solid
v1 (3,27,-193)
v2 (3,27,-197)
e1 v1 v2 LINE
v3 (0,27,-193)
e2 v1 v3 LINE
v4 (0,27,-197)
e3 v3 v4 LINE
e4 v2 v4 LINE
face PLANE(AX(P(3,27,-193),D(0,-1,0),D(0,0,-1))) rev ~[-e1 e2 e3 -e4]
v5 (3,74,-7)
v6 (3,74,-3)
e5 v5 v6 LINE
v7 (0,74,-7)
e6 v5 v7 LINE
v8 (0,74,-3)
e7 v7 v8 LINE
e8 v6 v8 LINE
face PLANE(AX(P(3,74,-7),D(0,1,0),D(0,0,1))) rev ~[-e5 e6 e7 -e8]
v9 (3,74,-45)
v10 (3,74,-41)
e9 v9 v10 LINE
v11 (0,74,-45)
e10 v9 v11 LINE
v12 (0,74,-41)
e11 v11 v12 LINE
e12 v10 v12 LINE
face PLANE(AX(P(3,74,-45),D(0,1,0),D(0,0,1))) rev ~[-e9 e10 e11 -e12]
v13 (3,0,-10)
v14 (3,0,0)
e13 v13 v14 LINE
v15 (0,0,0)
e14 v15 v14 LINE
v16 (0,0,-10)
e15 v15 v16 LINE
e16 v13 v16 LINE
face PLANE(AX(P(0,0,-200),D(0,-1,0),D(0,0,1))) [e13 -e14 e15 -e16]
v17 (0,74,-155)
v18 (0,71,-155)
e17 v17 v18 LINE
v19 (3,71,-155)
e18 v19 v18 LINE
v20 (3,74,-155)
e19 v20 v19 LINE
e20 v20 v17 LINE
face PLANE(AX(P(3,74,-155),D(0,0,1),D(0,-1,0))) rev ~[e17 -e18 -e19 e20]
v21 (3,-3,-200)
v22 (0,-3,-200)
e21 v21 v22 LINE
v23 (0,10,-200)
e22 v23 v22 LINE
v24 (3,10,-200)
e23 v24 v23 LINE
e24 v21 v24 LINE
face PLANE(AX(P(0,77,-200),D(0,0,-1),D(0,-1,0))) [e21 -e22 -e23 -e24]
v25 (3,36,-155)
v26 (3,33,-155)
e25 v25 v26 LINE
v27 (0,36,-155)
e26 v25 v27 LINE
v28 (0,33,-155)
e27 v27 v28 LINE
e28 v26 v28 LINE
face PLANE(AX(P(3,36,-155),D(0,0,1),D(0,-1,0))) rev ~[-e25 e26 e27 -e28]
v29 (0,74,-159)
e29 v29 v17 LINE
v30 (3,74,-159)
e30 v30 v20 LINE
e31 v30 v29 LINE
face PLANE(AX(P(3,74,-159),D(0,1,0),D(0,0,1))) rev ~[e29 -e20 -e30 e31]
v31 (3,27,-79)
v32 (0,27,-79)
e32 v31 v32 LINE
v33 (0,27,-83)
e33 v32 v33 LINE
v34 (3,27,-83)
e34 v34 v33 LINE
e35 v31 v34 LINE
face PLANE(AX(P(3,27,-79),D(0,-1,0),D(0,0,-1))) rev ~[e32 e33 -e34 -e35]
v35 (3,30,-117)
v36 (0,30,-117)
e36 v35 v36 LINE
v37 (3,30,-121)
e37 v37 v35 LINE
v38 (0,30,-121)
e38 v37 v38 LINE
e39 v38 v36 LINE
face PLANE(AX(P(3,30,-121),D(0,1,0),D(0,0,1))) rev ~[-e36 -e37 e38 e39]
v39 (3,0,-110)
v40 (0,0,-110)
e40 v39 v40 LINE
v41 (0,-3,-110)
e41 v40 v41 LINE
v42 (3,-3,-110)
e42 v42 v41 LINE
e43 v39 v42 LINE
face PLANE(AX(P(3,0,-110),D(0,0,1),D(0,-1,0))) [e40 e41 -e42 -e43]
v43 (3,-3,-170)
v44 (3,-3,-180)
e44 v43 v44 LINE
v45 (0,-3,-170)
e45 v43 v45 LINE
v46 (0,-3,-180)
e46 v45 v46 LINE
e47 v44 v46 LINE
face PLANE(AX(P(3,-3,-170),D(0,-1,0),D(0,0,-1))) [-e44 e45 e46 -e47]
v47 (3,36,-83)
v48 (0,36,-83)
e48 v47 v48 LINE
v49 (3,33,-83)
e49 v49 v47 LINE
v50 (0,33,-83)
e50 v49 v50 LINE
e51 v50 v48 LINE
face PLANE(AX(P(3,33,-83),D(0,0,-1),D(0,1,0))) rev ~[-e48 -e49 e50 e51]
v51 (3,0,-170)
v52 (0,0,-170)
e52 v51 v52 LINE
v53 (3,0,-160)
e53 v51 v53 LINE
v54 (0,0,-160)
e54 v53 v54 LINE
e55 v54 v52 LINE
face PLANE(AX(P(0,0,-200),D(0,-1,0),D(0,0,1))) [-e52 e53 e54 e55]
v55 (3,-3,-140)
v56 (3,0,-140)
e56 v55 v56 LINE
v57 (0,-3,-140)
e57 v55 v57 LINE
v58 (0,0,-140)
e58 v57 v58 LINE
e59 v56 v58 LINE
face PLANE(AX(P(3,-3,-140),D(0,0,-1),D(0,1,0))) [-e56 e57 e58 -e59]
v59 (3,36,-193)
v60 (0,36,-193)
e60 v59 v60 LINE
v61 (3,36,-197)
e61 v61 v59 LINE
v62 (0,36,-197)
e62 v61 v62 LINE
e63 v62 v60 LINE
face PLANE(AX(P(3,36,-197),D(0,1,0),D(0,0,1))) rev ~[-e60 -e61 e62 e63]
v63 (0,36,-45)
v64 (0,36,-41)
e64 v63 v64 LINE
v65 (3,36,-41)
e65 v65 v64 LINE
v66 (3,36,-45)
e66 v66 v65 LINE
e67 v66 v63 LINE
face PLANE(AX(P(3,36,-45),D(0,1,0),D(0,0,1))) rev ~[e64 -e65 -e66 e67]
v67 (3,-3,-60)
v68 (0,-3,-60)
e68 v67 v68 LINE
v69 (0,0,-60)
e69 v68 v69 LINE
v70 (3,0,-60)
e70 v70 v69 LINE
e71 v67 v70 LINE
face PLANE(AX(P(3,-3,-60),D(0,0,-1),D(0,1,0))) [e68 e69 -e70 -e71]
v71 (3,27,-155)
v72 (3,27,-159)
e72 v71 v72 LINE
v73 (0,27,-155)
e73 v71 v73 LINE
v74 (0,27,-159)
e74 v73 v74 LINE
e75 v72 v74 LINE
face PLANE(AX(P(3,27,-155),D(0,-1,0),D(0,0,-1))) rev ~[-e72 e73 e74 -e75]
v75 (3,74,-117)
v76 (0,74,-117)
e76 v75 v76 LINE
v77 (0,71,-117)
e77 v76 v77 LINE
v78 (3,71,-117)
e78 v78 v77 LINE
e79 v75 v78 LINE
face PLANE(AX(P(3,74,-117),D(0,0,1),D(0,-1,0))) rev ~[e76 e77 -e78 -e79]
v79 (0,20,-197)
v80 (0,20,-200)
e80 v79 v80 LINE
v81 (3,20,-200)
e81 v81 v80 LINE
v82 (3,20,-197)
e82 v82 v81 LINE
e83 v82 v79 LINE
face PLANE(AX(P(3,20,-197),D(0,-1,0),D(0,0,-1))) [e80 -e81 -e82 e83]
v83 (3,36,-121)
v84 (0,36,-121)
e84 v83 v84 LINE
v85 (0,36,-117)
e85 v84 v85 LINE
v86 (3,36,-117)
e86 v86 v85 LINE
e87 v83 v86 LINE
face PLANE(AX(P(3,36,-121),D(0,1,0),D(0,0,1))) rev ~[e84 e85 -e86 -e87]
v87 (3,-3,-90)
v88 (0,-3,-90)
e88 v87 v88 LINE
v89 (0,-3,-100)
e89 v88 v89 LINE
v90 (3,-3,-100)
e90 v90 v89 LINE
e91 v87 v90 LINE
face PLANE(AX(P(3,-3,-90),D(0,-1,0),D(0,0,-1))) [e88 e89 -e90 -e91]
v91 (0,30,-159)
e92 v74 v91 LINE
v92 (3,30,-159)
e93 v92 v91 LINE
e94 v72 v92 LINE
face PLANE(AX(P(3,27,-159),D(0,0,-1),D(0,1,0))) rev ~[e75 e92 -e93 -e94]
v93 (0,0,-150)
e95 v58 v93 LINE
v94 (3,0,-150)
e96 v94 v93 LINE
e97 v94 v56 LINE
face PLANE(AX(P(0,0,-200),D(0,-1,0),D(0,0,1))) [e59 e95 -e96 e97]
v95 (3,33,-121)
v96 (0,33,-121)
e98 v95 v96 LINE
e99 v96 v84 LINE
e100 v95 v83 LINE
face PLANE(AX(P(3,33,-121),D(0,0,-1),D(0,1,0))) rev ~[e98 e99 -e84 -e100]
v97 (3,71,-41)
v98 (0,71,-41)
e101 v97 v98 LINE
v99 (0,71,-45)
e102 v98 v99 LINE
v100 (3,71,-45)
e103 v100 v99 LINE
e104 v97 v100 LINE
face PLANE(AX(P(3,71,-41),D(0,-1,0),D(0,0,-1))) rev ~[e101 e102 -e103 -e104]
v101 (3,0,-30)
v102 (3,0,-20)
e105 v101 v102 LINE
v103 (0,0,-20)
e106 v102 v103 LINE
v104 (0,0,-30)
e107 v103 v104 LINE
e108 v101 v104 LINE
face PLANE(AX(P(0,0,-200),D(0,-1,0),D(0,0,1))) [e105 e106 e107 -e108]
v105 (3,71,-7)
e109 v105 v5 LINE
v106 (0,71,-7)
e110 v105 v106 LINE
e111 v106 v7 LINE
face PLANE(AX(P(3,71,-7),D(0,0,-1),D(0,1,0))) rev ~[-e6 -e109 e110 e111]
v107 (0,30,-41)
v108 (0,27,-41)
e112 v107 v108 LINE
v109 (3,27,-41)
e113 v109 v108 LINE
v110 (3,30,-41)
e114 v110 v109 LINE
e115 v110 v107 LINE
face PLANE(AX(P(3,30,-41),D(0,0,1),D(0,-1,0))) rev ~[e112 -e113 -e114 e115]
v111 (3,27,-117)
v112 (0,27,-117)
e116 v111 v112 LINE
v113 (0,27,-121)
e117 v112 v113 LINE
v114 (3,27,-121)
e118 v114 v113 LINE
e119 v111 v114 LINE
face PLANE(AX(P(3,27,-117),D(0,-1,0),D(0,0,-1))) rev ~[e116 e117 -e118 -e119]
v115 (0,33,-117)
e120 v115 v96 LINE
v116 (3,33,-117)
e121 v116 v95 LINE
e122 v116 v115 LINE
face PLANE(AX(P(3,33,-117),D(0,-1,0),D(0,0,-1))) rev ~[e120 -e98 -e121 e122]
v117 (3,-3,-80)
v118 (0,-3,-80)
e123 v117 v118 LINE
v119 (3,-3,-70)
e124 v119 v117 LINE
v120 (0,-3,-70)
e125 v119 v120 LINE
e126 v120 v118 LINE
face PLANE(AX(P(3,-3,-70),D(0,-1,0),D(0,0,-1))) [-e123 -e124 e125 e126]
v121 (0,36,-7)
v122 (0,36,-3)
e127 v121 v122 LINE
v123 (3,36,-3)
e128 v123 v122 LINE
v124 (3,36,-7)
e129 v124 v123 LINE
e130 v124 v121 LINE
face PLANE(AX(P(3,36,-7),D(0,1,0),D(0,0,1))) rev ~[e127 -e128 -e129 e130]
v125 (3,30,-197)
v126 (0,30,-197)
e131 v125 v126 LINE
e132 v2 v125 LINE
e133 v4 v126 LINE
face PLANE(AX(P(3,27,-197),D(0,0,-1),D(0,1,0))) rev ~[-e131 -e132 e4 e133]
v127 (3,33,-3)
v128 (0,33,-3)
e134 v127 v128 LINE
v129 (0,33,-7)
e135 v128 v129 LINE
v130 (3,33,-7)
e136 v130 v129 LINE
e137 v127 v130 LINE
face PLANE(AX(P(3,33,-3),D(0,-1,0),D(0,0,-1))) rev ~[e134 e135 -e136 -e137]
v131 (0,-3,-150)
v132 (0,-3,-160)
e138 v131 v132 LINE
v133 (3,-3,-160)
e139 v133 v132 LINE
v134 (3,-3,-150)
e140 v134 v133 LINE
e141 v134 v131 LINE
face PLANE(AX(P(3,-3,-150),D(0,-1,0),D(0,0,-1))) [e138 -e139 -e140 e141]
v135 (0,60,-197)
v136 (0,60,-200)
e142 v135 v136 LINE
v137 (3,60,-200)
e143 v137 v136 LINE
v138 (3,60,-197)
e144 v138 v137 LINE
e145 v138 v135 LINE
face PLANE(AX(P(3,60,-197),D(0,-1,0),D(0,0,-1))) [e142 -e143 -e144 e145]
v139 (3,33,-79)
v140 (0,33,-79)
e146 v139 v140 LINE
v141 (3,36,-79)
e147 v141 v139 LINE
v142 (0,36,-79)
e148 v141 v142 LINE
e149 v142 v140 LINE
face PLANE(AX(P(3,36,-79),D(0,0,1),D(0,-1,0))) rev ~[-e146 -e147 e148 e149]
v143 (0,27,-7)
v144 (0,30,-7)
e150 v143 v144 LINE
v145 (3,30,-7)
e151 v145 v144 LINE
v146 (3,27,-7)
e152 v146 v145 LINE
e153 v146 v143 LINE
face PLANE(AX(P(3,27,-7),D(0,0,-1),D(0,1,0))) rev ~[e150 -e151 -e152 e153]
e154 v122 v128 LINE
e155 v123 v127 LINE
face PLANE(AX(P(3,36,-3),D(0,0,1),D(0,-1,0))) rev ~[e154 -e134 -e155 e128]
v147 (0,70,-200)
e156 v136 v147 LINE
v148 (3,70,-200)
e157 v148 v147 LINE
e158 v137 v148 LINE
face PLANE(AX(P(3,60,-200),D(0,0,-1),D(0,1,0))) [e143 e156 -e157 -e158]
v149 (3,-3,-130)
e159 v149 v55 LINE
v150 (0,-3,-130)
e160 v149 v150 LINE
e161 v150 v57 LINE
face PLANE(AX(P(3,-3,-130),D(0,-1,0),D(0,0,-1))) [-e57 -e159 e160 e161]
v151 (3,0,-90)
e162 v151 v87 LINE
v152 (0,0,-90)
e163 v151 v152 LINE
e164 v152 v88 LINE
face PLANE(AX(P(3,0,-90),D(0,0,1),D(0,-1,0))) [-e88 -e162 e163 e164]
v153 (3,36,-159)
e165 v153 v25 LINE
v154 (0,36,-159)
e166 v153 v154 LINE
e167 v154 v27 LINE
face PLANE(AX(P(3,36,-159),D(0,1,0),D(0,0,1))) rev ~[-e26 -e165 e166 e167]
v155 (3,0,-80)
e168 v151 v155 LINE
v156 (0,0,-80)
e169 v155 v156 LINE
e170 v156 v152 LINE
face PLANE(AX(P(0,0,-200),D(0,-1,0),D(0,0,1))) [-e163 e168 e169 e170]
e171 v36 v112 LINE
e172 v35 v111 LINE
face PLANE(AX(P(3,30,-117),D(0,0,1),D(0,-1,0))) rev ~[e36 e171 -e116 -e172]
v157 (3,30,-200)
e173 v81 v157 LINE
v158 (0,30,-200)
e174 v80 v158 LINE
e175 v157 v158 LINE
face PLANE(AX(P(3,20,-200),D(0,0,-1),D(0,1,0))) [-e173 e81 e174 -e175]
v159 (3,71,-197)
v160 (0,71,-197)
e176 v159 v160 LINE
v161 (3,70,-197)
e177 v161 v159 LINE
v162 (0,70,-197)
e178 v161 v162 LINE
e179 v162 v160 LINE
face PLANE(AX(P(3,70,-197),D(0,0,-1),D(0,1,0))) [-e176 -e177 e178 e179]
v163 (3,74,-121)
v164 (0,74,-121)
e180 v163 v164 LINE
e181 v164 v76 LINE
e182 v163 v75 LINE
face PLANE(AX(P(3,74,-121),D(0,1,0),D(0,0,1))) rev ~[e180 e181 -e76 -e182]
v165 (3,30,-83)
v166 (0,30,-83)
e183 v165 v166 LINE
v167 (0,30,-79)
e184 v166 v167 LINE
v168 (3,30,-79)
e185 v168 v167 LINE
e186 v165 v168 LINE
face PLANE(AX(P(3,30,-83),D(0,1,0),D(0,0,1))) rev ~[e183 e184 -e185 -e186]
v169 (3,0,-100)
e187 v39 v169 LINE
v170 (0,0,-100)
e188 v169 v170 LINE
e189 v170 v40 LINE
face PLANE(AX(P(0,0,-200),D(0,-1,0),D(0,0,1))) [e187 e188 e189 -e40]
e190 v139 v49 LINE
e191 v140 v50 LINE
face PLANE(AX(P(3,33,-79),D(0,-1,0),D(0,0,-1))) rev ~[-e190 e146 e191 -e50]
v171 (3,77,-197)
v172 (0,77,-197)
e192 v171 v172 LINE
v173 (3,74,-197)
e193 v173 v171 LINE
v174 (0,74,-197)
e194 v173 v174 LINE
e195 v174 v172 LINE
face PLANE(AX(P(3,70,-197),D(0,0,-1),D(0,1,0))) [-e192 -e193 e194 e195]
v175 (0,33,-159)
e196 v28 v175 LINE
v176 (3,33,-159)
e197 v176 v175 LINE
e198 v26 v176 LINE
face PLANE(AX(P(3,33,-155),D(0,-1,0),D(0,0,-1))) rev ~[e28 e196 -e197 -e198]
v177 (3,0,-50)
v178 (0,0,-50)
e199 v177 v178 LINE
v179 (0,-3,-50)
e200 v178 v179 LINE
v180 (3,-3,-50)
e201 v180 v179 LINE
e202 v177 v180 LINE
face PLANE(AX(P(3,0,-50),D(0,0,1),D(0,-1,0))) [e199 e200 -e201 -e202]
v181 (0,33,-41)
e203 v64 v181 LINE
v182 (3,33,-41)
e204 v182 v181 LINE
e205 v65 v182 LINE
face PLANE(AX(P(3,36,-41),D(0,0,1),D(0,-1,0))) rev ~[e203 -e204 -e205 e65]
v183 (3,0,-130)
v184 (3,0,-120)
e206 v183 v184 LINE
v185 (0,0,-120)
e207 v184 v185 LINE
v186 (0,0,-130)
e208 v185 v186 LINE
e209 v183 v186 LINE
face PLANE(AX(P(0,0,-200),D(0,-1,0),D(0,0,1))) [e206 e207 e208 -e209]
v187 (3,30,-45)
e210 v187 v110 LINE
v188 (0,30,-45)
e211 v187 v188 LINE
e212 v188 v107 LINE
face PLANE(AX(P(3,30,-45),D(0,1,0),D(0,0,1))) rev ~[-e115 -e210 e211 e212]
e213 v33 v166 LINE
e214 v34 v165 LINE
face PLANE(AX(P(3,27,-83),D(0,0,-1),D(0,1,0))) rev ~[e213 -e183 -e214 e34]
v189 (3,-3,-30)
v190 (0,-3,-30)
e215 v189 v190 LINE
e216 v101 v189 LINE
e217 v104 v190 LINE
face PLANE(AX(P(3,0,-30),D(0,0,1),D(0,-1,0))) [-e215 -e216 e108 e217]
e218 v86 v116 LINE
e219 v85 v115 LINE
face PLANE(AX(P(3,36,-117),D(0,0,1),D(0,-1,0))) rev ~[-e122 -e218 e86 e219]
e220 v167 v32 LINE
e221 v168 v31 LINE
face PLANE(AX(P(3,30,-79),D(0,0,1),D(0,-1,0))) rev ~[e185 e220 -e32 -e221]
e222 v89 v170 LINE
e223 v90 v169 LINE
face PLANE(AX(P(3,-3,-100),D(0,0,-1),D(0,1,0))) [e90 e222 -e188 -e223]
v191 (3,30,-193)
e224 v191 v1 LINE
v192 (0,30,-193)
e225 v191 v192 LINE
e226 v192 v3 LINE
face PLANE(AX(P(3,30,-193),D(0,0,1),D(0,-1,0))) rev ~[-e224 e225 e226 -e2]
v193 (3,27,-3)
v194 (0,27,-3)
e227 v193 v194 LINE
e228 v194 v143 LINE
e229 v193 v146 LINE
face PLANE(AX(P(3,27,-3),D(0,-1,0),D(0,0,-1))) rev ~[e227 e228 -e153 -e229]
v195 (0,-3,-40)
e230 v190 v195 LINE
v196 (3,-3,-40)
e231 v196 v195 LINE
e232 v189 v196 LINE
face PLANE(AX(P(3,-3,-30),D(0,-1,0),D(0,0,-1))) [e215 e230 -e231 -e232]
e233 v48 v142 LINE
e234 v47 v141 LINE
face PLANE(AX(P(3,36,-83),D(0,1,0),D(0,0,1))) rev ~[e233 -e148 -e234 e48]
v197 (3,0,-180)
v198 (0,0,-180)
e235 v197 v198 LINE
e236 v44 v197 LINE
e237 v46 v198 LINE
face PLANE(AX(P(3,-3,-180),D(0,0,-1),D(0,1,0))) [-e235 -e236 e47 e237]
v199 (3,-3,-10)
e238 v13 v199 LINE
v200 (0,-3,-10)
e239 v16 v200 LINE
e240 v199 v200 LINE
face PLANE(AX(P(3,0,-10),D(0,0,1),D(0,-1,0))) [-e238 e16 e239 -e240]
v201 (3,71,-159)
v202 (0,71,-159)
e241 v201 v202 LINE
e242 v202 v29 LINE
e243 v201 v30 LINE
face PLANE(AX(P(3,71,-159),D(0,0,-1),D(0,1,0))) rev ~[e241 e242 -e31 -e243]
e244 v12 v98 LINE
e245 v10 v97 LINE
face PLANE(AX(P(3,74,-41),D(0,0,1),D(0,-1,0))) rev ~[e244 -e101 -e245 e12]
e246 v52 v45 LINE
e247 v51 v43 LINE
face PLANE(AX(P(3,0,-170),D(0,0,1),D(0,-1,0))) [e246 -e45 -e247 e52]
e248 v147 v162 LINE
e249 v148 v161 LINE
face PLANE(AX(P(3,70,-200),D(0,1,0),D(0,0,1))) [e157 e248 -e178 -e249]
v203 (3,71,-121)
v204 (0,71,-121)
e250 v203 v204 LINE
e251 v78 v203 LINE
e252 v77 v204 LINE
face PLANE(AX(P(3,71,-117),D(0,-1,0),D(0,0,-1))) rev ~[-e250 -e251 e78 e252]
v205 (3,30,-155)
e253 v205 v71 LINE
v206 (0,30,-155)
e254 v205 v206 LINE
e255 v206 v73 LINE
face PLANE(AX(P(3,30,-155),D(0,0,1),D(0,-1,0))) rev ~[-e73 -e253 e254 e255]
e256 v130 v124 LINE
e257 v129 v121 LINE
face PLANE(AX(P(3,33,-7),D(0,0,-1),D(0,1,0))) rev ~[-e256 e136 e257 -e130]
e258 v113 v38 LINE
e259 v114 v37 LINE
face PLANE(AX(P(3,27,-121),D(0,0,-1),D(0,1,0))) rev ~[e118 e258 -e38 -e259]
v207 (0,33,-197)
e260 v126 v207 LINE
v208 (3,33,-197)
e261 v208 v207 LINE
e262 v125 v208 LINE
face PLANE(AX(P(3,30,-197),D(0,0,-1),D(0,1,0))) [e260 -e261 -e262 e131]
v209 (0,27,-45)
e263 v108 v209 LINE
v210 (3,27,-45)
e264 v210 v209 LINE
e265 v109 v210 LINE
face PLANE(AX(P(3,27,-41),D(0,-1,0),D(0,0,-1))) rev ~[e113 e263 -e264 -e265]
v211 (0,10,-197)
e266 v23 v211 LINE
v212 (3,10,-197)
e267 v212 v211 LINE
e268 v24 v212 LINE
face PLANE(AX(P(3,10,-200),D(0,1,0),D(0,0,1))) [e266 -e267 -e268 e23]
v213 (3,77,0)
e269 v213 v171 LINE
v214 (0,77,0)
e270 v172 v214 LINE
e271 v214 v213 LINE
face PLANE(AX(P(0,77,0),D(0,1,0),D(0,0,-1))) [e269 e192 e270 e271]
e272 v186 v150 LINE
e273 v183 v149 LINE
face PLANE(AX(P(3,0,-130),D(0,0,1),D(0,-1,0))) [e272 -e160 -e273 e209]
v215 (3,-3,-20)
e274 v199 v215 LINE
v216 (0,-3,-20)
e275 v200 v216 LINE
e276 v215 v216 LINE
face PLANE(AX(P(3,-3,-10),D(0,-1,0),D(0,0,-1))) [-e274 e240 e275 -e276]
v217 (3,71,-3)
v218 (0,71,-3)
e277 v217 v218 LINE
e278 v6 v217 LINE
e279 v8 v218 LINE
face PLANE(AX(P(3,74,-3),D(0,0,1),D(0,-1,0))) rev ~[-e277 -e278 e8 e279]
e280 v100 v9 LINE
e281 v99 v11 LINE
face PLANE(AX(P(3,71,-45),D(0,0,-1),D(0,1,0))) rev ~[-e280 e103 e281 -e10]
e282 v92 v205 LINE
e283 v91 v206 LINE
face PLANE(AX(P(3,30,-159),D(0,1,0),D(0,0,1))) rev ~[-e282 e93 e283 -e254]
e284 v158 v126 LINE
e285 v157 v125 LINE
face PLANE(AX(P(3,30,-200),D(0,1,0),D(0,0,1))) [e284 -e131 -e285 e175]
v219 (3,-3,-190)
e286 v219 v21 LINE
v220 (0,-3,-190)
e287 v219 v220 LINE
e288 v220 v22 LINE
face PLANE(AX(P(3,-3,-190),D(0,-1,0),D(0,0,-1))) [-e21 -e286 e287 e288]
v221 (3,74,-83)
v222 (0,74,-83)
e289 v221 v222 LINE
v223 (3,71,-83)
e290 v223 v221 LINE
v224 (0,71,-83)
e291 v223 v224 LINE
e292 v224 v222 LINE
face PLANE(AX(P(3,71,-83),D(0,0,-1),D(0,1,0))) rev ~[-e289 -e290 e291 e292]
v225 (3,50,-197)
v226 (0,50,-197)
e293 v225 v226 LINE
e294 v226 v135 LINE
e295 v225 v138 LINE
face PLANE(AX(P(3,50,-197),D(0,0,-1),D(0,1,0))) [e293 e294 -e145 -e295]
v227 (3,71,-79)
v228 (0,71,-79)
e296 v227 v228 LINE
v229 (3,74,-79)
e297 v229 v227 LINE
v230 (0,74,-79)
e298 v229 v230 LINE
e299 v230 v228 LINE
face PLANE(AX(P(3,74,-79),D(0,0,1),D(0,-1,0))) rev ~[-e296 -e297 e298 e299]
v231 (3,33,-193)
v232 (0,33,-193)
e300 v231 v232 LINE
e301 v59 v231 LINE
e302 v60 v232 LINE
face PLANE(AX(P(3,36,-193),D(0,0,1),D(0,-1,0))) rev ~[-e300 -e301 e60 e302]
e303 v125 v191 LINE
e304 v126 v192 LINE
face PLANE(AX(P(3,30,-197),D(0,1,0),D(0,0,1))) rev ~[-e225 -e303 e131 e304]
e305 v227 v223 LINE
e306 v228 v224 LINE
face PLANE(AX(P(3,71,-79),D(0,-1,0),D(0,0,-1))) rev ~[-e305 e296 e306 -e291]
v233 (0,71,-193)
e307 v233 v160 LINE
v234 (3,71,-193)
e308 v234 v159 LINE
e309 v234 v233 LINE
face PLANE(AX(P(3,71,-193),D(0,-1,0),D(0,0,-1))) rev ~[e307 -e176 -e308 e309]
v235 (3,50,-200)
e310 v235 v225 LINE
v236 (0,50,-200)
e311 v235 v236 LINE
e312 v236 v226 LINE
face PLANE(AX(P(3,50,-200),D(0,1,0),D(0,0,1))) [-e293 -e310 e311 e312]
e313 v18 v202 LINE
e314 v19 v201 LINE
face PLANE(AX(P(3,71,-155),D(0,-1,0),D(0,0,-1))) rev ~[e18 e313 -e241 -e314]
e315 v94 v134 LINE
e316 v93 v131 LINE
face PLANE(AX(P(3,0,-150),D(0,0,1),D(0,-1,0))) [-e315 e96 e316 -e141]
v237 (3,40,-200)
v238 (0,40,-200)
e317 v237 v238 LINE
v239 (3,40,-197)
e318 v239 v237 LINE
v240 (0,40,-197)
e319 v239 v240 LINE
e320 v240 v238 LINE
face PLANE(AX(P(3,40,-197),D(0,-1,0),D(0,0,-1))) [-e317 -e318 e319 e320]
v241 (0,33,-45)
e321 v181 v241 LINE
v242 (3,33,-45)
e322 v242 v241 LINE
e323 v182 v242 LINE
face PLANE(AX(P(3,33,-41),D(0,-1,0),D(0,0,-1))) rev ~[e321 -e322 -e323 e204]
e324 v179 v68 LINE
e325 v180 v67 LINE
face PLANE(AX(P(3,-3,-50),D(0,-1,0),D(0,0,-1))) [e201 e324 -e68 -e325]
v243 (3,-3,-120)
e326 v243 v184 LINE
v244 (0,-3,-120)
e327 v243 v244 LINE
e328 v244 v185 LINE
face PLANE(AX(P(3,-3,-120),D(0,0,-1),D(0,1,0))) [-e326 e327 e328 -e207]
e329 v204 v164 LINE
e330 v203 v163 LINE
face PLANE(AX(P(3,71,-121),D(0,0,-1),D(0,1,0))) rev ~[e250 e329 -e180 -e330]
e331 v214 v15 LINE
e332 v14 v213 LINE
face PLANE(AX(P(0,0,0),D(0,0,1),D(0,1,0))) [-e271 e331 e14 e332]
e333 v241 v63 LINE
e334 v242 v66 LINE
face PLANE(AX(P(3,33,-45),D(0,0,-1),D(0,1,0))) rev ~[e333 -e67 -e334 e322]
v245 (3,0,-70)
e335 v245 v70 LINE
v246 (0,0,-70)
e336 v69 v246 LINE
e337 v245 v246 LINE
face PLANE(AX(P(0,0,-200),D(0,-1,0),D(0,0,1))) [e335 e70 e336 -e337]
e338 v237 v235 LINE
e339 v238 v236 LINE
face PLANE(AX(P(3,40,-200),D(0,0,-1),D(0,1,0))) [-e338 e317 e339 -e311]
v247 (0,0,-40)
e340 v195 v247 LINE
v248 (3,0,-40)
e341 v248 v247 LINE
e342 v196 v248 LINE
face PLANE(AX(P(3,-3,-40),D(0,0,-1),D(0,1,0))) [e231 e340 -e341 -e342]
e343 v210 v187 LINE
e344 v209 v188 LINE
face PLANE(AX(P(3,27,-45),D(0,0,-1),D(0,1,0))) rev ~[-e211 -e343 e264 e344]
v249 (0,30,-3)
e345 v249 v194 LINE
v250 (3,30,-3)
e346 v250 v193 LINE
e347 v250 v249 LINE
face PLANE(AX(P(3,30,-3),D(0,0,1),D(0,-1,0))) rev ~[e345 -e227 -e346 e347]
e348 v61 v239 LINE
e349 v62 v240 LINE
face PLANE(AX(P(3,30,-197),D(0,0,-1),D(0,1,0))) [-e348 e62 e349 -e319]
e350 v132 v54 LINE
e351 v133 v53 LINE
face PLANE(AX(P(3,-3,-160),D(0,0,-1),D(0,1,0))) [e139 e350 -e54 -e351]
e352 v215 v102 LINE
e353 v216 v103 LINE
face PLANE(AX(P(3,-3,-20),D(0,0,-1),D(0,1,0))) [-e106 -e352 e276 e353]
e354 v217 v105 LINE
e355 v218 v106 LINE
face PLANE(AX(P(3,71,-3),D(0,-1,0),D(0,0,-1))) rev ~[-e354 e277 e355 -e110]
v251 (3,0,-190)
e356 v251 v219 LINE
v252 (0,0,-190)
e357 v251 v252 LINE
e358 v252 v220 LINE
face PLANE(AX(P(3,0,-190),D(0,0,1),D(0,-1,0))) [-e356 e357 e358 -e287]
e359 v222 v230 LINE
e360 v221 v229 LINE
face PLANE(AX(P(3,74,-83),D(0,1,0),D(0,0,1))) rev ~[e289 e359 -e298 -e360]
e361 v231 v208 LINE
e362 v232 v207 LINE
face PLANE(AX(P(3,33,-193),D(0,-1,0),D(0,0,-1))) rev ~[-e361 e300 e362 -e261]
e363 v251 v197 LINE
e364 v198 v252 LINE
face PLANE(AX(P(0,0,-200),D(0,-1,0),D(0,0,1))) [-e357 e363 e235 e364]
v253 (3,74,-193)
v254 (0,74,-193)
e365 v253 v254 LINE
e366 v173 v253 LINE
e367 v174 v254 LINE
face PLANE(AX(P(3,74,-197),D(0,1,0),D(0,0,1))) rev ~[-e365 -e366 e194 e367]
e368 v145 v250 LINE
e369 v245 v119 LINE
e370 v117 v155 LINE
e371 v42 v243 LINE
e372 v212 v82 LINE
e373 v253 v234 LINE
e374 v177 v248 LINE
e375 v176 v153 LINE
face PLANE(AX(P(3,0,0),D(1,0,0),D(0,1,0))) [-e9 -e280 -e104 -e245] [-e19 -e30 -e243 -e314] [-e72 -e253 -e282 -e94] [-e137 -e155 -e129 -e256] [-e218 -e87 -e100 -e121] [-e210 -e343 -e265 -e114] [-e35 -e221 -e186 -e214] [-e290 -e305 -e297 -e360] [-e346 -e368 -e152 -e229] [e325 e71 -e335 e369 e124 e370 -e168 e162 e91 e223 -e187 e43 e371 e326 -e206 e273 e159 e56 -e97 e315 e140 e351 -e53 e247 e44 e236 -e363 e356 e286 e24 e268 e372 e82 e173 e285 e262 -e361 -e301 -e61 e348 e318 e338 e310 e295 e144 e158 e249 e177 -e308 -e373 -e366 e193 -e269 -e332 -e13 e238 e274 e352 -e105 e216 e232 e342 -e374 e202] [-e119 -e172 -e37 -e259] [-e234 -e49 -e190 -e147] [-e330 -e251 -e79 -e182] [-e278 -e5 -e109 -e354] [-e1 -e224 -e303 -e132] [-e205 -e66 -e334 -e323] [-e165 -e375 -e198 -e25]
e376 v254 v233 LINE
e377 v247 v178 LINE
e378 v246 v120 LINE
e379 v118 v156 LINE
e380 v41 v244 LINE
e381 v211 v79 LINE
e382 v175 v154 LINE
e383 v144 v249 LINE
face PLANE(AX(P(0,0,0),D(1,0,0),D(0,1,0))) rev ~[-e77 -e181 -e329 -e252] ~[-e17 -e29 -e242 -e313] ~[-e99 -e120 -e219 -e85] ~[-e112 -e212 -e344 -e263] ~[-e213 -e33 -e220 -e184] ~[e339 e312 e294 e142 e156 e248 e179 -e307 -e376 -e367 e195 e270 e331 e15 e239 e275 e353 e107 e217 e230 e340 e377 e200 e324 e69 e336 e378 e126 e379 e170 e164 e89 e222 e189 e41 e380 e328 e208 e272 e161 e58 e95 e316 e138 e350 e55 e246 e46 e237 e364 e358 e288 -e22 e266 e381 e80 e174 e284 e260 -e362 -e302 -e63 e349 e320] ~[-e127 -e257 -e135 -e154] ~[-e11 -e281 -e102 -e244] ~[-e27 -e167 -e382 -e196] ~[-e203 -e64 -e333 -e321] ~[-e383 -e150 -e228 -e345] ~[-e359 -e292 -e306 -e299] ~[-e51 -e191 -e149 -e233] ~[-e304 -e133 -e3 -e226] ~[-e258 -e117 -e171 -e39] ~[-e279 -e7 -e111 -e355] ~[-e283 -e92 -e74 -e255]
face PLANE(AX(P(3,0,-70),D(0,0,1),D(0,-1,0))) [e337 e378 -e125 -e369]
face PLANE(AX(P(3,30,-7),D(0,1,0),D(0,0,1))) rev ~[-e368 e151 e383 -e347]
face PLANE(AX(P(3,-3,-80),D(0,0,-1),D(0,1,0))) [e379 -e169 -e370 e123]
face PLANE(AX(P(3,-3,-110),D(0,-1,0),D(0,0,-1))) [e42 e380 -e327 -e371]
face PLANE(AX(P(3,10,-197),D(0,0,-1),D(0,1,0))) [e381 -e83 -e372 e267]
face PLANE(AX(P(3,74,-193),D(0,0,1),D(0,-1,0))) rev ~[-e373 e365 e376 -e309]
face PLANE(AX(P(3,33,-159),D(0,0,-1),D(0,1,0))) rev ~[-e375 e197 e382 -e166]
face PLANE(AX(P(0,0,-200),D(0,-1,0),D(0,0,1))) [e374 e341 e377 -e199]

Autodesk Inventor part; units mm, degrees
ref_plane "YZ Plane" through (0, 0, 0) normal (1, 0, 0) x (0, 1, 0)
ref_plane "XZ Plane" through (0, 0, 0) normal (0, 1, 0) x (-1, 0, 0)
ref_plane "XY Plane" through (0, 0, 0) normal (0, 0, 1) x (1, 0, 0)
sketch "Sketch1" plane through (0, 0, 0) normal (1, 0, 0) x (0, 1, 0)
  line L0 (0, 0) -> (77, 0)
  line L1 (77, 0) -> (77, -200)
  line L2 (77, -200) -> (0, -200)
  line L3 (0, -200) -> (0, 0)
  dimension "d0" = 77
  dimension "d1" = 200
extrude "Extrusion1" add sketch "Sketch1" along normal blind 3
sketch "Sketch2" plane through (3, 0, 0) normal (1, 0, 0) x (0, 0, -1)
  line L0 (0, 0) -> (10, 0)
  line L1 (0, 0) -> (200, 0) projected
  line L2 (10, 0) -> (10, -3)
  line L3 (10, -3) -> (20, -3)
  line L4 (20, -3) -> (20, 0)
  line L5 (0, 0) -> (200, 0) projected
  line L6 (30, -3) -> (40, -3)
  line L7 (20, 0) -> (30, 0)
  line L8 (30, 0) -> (30, -3)
  line L9 (40, -3) -> (40, 0)
  line L10 (50, -3) -> (60, -3)
  line L11 (40, 0) -> (50, 0)
  line L12 (50, 0) -> (50, -3)
  line L13 (60, -3) -> (60, 0)
  line L14 (70, -3) -> (80, -3)
  line L15 (60, 0) -> (70, 0)
  line L16 (70, 0) -> (70, -3)
  line L17 (80, -3) -> (80, 0)
  line L18 (90, -3) -> (100, -3)
  line L19 (80, 0) -> (90, 0)
  line L20 (90, 0) -> (90, -3)
  line L21 (100, -3) -> (100, 0)
  line L22 (110, -3) -> (120, -3)
  line L23 (100, 0) -> (110, 0)
  line L24 (110, 0) -> (110, -3)
  line L25 (120, -3) -> (120, 0)
  line L26 (130, -3) -> (140, -3)
  line L27 (120, 0) -> (130, 0)
  line L28 (130, 0) -> (130, -3)
  line L29 (140, -3) -> (140, 0)
  line L30 (150, -3) -> (160, -3)
  line L31 (140, 0) -> (150, 0)
  line L32 (150, 0) -> (150, -3)
  line L33 (160, -3) -> (160, 0)
  line L34 (170, -3) -> (180, -3)
  line L35 (160, 0) -> (170, 0)
  line L36 (170, 0) -> (170, -3)
  line L37 (180, -3) -> (180, 0)
  line L38 (190, -3) -> (200, -3)
  line L39 (180, 0) -> (190, 0)
  line L40 (190, 0) -> (190, -3)
  line L41 (200, -3) -> (200, 0)
  line L42 (0, 0) -> (0, 10)
  line L43 (200, 77) -> (0, 77) projected
  line L44 (200, 0) -> (200, 77) projected
  line L45 (200, 0) -> (200, 10)
  line L46 (197, 10) -> (197, 20)
  line L47 (197, 20) -> (200, 20)
  line L48 (200, 30) -> (197, 30)
  line L49 (197, 30) -> (197, 40)
  line L50 (197, 40) -> (200, 40)
  line L51 (200, 40) -> (200, 50)
  line L52 (200, 50) -> (197, 50)
  line L53 (197, 50) -> (197, 60)
  line L54 (197, 60) -> (200, 60)
  line L55 (200, 60) -> (200, 70)
  line L56 (200, 70) -> (197, 70)
  line L57 (197, 70) -> (197, 77)
  line L58 (200, 10) -> (197, 10)
  line L59 (200, 20) -> (200, 30)
  line L60 (3, 77) -> (197, 77)
  line L61 (0, 77) -> (0, 0) projected
  line L62 (0, 0) -> (0, 77)
  line L63 (0, 77) -> (3, 77)
  point P0 (0, 70)
  dimension "d9" = 20
  dimension "d25" = 10
extrude "Extrusion2" cut sketch "Sketch2" against normal blind 3 contours L42 L61 L43 L57 L56 L44 L54 L53 L52 L50 L49 L48 L47 L46 L58 L1 L0 keep common part
sketch "Sketch3" plane through (3, 0, 0) normal (1, 0, 0) x (0, 0, -1)
  line L0 (0, 0) -> (10, 0)
  line L1 (0, 0) -> (200, 0)
  line L2 (10, 0) -> (10, -3)
  line L3 (10, -3) -> (20, -3)
  line L4 (20, -3) -> (20, 0)
  line L5 (30, -3) -> (40, -3)
  line L6 (20, 0) -> (30, 0)
  line L7 (30, 0) -> (30, -3)
  line L8 (40, -3) -> (40, 0)
  line L9 (50, -3) -> (60, -3)
  line L10 (40, 0) -> (50, 0)
  line L11 (50, 0) -> (50, -3)
  line L12 (60, -3) -> (60, 0)
  line L13 (70, -3) -> (80, -3)
  line L14 (60, 0) -> (70, 0)
  line L15 (70, 0) -> (70, -3)
  line L16 (80, -3) -> (80, 0)
  line L17 (90, -3) -> (100, -3)
  line L18 (80, 0) -> (90, 0)
  line L19 (90, 0) -> (90, -3)
  line L20 (100, -3) -> (100, 0)
  line L21 (110, -3) -> (120, -3)
  line L22 (100, 0) -> (110, 0)
  line L23 (110, 0) -> (110, -3)
  line L24 (120, -3) -> (120, 0)
  line L25 (130, -3) -> (140, -3)
  line L26 (120, 0) -> (130, 0)
  line L27 (130, 0) -> (130, -3)
  line L28 (140, -3) -> (140, 0)
  line L29 (150, -3) -> (160, -3)
  line L30 (140, 0) -> (150, 0)
  line L31 (150, 0) -> (150, -3)
  line L32 (160, -3) -> (160, 0)
  line L33 (170, -3) -> (180, -3)
  line L34 (160, 0) -> (170, 0)
  line L35 (170, 0) -> (170, -3)
  line L36 (180, -3) -> (180, 0)
  line L37 (190, -3) -> (200, -3)
  line L38 (180, 0) -> (190, 0)
  line L39 (190, 0) -> (190, -3)
  line L40 (10, 0) -> (10, -3)
  line L41 (20, -3) -> (20, 0)
  line L42 (0, 0) -> (30, 0)
  line L43 (40, 0) -> (200, 0)
  line L44 (0, 0) -> (200, 0) projected
  line L45 (200, -3) -> (200, 0)
  dimension "d28" = 10
  dimension "d29" = 3
  dimension "d30" = 10
  dimension "d31" = 20
extrude "Extrusion3" add sketch "Sketch3" against normal blind 3
sketch "Sketch4" plane through (3, 0, 0) normal (1, 0, 0) x (0, 0, -1)
  line L0 (197, 70) -> (197, 77) projected
  line L1 (197, 74) -> (193, 74)
  line L2 (193, 74) -> (193, 71)
  line L3 (193, 71) -> (197, 71)
  line L4 (197, 71) -> (197, 74)
  line L5 (159, 74) -> (155, 74)
  line L6 (155, 74) -> (155, 71)
  line L7 (155, 71) -> (159, 71)
  line L8 (159, 71) -> (159, 74)
  line L9 (197, 36) -> (193, 36)
  line L10 (193, 36) -> (193, 33)
  line L11 (193, 33) -> (197, 33)
  line L12 (197, 33) -> (197, 36)
  line L13 (159, 36) -> (155, 36)
  line L14 (155, 36) -> (155, 33)
  line L15 (155, 33) -> (159, 33)
  line L16 (159, 33) -> (159, 36)
  line L17 (121, 74) -> (117, 74)
  line L18 (117, 74) -> (117, 71)
  line L19 (117, 71) -> (121, 71)
  line L20 (121, 71) -> (121, 74)
  line L21 (121, 36) -> (117, 36)
  line L22 (117, 36) -> (117, 33)
  line L23 (117, 33) -> (121, 33)
  line L24 (121, 33) -> (121, 36)
  line L25 (83, 74) -> (79, 74)
  line L26 (79, 74) -> (79, 71)
  line L27 (79, 71) -> (83, 71)
  line L28 (83, 71) -> (83, 74)
  line L29 (83, 36) -> (79, 36)
  line L30 (79, 36) -> (79, 33)
  line L31 (79, 33) -> (83, 33)
  line L32 (83, 33) -> (83, 36)
  line L33 (45, 74) -> (41, 74)
  line L34 (41, 74) -> (41, 71)
  line L35 (41, 71) -> (45, 71)
  line L36 (45, 71) -> (45, 74)
  line L37 (45, 36) -> (41, 36)
  line L38 (41, 36) -> (41, 33)
  line L39 (41, 33) -> (45, 33)
  line L40 (45, 33) -> (45, 36)
  line L41 (159, 33) -> (159, 36)
  line L42 (155, 33) -> (159, 33)
  line L43 (159, 36) -> (155, 36)
  line L44 (155, 36) -> (155, 33)
  line L45 (121, 33) -> (121, 36)
  line L46 (117, 33) -> (121, 33)
  line L47 (121, 36) -> (117, 36)
  line L48 (117, 36) -> (117, 33)
  line L49 (83, 33) -> (83, 36)
  line L50 (79, 33) -> (83, 33)
  line L51 (83, 36) -> (79, 36)
  line L52 (79, 36) -> (79, 33)
  line L53 (45, 33) -> (45, 36)
  line L54 (41, 33) -> (45, 33)
  line L55 (45, 36) -> (41, 36)
  line L56 (41, 36) -> (41, 33)
  line L57 (197, 27) -> (197, 30)
  line L58 (193, 27) -> (197, 27)
  line L59 (197, 30) -> (193, 30)
  line L60 (193, 30) -> (193, 27)
  line L61 (159, 27) -> (159, 30)
  line L62 (155, 27) -> (159, 27)
  line L63 (159, 30) -> (155, 30)
  line L64 (155, 30) -> (155, 27)
  line L65 (121, 27) -> (121, 30)
  line L66 (117, 27) -> (121, 27)
  line L67 (121, 30) -> (117, 30)
  line L68 (117, 30) -> (117, 27)
  line L69 (83, 27) -> (83, 30)
  line L70 (79, 27) -> (83, 27)
  line L71 (83, 30) -> (79, 30)
  line L72 (79, 30) -> (79, 27)
  line L73 (45, 27) -> (45, 30)
  line L74 (41, 27) -> (45, 27)
  line L75 (45, 30) -> (41, 30)
  line L76 (41, 30) -> (41, 27)
  line L77 (7, 74) -> (3, 74)
  line L78 (3, 74) -> (3, 71)
  line L79 (3, 71) -> (7, 71)
  line L80 (7, 71) -> (7, 74)
  line L81 (7, 36) -> (3, 36)
  line L82 (3, 36) -> (3, 33)
  line L83 (3, 33) -> (7, 33)
  line L84 (7, 33) -> (7, 36)
  line L85 (7, 33) -> (7, 36)
  line L86 (3, 33) -> (7, 33)
  line L87 (7, 36) -> (3, 36)
  line L88 (3, 36) -> (3, 33)
  line L89 (7, 27) -> (7, 30)
  line L90 (3, 27) -> (7, 27)
  line L91 (7, 30) -> (3, 30)
  line L92 (3, 30) -> (3, 27)
  point P0 (0, 0)
  dimension "d34" = 4
  dimension "d35" = 3
  dimension "d38" = 38
  dimension "d41" = 38
  dimension "d48" = 38
  dimension "d51" = 6
extrude "Extrusion4" cut sketch "Sketch4" against normal through all
properties part number "DoosjeRechterkant" material "Wood (Cherry)"
